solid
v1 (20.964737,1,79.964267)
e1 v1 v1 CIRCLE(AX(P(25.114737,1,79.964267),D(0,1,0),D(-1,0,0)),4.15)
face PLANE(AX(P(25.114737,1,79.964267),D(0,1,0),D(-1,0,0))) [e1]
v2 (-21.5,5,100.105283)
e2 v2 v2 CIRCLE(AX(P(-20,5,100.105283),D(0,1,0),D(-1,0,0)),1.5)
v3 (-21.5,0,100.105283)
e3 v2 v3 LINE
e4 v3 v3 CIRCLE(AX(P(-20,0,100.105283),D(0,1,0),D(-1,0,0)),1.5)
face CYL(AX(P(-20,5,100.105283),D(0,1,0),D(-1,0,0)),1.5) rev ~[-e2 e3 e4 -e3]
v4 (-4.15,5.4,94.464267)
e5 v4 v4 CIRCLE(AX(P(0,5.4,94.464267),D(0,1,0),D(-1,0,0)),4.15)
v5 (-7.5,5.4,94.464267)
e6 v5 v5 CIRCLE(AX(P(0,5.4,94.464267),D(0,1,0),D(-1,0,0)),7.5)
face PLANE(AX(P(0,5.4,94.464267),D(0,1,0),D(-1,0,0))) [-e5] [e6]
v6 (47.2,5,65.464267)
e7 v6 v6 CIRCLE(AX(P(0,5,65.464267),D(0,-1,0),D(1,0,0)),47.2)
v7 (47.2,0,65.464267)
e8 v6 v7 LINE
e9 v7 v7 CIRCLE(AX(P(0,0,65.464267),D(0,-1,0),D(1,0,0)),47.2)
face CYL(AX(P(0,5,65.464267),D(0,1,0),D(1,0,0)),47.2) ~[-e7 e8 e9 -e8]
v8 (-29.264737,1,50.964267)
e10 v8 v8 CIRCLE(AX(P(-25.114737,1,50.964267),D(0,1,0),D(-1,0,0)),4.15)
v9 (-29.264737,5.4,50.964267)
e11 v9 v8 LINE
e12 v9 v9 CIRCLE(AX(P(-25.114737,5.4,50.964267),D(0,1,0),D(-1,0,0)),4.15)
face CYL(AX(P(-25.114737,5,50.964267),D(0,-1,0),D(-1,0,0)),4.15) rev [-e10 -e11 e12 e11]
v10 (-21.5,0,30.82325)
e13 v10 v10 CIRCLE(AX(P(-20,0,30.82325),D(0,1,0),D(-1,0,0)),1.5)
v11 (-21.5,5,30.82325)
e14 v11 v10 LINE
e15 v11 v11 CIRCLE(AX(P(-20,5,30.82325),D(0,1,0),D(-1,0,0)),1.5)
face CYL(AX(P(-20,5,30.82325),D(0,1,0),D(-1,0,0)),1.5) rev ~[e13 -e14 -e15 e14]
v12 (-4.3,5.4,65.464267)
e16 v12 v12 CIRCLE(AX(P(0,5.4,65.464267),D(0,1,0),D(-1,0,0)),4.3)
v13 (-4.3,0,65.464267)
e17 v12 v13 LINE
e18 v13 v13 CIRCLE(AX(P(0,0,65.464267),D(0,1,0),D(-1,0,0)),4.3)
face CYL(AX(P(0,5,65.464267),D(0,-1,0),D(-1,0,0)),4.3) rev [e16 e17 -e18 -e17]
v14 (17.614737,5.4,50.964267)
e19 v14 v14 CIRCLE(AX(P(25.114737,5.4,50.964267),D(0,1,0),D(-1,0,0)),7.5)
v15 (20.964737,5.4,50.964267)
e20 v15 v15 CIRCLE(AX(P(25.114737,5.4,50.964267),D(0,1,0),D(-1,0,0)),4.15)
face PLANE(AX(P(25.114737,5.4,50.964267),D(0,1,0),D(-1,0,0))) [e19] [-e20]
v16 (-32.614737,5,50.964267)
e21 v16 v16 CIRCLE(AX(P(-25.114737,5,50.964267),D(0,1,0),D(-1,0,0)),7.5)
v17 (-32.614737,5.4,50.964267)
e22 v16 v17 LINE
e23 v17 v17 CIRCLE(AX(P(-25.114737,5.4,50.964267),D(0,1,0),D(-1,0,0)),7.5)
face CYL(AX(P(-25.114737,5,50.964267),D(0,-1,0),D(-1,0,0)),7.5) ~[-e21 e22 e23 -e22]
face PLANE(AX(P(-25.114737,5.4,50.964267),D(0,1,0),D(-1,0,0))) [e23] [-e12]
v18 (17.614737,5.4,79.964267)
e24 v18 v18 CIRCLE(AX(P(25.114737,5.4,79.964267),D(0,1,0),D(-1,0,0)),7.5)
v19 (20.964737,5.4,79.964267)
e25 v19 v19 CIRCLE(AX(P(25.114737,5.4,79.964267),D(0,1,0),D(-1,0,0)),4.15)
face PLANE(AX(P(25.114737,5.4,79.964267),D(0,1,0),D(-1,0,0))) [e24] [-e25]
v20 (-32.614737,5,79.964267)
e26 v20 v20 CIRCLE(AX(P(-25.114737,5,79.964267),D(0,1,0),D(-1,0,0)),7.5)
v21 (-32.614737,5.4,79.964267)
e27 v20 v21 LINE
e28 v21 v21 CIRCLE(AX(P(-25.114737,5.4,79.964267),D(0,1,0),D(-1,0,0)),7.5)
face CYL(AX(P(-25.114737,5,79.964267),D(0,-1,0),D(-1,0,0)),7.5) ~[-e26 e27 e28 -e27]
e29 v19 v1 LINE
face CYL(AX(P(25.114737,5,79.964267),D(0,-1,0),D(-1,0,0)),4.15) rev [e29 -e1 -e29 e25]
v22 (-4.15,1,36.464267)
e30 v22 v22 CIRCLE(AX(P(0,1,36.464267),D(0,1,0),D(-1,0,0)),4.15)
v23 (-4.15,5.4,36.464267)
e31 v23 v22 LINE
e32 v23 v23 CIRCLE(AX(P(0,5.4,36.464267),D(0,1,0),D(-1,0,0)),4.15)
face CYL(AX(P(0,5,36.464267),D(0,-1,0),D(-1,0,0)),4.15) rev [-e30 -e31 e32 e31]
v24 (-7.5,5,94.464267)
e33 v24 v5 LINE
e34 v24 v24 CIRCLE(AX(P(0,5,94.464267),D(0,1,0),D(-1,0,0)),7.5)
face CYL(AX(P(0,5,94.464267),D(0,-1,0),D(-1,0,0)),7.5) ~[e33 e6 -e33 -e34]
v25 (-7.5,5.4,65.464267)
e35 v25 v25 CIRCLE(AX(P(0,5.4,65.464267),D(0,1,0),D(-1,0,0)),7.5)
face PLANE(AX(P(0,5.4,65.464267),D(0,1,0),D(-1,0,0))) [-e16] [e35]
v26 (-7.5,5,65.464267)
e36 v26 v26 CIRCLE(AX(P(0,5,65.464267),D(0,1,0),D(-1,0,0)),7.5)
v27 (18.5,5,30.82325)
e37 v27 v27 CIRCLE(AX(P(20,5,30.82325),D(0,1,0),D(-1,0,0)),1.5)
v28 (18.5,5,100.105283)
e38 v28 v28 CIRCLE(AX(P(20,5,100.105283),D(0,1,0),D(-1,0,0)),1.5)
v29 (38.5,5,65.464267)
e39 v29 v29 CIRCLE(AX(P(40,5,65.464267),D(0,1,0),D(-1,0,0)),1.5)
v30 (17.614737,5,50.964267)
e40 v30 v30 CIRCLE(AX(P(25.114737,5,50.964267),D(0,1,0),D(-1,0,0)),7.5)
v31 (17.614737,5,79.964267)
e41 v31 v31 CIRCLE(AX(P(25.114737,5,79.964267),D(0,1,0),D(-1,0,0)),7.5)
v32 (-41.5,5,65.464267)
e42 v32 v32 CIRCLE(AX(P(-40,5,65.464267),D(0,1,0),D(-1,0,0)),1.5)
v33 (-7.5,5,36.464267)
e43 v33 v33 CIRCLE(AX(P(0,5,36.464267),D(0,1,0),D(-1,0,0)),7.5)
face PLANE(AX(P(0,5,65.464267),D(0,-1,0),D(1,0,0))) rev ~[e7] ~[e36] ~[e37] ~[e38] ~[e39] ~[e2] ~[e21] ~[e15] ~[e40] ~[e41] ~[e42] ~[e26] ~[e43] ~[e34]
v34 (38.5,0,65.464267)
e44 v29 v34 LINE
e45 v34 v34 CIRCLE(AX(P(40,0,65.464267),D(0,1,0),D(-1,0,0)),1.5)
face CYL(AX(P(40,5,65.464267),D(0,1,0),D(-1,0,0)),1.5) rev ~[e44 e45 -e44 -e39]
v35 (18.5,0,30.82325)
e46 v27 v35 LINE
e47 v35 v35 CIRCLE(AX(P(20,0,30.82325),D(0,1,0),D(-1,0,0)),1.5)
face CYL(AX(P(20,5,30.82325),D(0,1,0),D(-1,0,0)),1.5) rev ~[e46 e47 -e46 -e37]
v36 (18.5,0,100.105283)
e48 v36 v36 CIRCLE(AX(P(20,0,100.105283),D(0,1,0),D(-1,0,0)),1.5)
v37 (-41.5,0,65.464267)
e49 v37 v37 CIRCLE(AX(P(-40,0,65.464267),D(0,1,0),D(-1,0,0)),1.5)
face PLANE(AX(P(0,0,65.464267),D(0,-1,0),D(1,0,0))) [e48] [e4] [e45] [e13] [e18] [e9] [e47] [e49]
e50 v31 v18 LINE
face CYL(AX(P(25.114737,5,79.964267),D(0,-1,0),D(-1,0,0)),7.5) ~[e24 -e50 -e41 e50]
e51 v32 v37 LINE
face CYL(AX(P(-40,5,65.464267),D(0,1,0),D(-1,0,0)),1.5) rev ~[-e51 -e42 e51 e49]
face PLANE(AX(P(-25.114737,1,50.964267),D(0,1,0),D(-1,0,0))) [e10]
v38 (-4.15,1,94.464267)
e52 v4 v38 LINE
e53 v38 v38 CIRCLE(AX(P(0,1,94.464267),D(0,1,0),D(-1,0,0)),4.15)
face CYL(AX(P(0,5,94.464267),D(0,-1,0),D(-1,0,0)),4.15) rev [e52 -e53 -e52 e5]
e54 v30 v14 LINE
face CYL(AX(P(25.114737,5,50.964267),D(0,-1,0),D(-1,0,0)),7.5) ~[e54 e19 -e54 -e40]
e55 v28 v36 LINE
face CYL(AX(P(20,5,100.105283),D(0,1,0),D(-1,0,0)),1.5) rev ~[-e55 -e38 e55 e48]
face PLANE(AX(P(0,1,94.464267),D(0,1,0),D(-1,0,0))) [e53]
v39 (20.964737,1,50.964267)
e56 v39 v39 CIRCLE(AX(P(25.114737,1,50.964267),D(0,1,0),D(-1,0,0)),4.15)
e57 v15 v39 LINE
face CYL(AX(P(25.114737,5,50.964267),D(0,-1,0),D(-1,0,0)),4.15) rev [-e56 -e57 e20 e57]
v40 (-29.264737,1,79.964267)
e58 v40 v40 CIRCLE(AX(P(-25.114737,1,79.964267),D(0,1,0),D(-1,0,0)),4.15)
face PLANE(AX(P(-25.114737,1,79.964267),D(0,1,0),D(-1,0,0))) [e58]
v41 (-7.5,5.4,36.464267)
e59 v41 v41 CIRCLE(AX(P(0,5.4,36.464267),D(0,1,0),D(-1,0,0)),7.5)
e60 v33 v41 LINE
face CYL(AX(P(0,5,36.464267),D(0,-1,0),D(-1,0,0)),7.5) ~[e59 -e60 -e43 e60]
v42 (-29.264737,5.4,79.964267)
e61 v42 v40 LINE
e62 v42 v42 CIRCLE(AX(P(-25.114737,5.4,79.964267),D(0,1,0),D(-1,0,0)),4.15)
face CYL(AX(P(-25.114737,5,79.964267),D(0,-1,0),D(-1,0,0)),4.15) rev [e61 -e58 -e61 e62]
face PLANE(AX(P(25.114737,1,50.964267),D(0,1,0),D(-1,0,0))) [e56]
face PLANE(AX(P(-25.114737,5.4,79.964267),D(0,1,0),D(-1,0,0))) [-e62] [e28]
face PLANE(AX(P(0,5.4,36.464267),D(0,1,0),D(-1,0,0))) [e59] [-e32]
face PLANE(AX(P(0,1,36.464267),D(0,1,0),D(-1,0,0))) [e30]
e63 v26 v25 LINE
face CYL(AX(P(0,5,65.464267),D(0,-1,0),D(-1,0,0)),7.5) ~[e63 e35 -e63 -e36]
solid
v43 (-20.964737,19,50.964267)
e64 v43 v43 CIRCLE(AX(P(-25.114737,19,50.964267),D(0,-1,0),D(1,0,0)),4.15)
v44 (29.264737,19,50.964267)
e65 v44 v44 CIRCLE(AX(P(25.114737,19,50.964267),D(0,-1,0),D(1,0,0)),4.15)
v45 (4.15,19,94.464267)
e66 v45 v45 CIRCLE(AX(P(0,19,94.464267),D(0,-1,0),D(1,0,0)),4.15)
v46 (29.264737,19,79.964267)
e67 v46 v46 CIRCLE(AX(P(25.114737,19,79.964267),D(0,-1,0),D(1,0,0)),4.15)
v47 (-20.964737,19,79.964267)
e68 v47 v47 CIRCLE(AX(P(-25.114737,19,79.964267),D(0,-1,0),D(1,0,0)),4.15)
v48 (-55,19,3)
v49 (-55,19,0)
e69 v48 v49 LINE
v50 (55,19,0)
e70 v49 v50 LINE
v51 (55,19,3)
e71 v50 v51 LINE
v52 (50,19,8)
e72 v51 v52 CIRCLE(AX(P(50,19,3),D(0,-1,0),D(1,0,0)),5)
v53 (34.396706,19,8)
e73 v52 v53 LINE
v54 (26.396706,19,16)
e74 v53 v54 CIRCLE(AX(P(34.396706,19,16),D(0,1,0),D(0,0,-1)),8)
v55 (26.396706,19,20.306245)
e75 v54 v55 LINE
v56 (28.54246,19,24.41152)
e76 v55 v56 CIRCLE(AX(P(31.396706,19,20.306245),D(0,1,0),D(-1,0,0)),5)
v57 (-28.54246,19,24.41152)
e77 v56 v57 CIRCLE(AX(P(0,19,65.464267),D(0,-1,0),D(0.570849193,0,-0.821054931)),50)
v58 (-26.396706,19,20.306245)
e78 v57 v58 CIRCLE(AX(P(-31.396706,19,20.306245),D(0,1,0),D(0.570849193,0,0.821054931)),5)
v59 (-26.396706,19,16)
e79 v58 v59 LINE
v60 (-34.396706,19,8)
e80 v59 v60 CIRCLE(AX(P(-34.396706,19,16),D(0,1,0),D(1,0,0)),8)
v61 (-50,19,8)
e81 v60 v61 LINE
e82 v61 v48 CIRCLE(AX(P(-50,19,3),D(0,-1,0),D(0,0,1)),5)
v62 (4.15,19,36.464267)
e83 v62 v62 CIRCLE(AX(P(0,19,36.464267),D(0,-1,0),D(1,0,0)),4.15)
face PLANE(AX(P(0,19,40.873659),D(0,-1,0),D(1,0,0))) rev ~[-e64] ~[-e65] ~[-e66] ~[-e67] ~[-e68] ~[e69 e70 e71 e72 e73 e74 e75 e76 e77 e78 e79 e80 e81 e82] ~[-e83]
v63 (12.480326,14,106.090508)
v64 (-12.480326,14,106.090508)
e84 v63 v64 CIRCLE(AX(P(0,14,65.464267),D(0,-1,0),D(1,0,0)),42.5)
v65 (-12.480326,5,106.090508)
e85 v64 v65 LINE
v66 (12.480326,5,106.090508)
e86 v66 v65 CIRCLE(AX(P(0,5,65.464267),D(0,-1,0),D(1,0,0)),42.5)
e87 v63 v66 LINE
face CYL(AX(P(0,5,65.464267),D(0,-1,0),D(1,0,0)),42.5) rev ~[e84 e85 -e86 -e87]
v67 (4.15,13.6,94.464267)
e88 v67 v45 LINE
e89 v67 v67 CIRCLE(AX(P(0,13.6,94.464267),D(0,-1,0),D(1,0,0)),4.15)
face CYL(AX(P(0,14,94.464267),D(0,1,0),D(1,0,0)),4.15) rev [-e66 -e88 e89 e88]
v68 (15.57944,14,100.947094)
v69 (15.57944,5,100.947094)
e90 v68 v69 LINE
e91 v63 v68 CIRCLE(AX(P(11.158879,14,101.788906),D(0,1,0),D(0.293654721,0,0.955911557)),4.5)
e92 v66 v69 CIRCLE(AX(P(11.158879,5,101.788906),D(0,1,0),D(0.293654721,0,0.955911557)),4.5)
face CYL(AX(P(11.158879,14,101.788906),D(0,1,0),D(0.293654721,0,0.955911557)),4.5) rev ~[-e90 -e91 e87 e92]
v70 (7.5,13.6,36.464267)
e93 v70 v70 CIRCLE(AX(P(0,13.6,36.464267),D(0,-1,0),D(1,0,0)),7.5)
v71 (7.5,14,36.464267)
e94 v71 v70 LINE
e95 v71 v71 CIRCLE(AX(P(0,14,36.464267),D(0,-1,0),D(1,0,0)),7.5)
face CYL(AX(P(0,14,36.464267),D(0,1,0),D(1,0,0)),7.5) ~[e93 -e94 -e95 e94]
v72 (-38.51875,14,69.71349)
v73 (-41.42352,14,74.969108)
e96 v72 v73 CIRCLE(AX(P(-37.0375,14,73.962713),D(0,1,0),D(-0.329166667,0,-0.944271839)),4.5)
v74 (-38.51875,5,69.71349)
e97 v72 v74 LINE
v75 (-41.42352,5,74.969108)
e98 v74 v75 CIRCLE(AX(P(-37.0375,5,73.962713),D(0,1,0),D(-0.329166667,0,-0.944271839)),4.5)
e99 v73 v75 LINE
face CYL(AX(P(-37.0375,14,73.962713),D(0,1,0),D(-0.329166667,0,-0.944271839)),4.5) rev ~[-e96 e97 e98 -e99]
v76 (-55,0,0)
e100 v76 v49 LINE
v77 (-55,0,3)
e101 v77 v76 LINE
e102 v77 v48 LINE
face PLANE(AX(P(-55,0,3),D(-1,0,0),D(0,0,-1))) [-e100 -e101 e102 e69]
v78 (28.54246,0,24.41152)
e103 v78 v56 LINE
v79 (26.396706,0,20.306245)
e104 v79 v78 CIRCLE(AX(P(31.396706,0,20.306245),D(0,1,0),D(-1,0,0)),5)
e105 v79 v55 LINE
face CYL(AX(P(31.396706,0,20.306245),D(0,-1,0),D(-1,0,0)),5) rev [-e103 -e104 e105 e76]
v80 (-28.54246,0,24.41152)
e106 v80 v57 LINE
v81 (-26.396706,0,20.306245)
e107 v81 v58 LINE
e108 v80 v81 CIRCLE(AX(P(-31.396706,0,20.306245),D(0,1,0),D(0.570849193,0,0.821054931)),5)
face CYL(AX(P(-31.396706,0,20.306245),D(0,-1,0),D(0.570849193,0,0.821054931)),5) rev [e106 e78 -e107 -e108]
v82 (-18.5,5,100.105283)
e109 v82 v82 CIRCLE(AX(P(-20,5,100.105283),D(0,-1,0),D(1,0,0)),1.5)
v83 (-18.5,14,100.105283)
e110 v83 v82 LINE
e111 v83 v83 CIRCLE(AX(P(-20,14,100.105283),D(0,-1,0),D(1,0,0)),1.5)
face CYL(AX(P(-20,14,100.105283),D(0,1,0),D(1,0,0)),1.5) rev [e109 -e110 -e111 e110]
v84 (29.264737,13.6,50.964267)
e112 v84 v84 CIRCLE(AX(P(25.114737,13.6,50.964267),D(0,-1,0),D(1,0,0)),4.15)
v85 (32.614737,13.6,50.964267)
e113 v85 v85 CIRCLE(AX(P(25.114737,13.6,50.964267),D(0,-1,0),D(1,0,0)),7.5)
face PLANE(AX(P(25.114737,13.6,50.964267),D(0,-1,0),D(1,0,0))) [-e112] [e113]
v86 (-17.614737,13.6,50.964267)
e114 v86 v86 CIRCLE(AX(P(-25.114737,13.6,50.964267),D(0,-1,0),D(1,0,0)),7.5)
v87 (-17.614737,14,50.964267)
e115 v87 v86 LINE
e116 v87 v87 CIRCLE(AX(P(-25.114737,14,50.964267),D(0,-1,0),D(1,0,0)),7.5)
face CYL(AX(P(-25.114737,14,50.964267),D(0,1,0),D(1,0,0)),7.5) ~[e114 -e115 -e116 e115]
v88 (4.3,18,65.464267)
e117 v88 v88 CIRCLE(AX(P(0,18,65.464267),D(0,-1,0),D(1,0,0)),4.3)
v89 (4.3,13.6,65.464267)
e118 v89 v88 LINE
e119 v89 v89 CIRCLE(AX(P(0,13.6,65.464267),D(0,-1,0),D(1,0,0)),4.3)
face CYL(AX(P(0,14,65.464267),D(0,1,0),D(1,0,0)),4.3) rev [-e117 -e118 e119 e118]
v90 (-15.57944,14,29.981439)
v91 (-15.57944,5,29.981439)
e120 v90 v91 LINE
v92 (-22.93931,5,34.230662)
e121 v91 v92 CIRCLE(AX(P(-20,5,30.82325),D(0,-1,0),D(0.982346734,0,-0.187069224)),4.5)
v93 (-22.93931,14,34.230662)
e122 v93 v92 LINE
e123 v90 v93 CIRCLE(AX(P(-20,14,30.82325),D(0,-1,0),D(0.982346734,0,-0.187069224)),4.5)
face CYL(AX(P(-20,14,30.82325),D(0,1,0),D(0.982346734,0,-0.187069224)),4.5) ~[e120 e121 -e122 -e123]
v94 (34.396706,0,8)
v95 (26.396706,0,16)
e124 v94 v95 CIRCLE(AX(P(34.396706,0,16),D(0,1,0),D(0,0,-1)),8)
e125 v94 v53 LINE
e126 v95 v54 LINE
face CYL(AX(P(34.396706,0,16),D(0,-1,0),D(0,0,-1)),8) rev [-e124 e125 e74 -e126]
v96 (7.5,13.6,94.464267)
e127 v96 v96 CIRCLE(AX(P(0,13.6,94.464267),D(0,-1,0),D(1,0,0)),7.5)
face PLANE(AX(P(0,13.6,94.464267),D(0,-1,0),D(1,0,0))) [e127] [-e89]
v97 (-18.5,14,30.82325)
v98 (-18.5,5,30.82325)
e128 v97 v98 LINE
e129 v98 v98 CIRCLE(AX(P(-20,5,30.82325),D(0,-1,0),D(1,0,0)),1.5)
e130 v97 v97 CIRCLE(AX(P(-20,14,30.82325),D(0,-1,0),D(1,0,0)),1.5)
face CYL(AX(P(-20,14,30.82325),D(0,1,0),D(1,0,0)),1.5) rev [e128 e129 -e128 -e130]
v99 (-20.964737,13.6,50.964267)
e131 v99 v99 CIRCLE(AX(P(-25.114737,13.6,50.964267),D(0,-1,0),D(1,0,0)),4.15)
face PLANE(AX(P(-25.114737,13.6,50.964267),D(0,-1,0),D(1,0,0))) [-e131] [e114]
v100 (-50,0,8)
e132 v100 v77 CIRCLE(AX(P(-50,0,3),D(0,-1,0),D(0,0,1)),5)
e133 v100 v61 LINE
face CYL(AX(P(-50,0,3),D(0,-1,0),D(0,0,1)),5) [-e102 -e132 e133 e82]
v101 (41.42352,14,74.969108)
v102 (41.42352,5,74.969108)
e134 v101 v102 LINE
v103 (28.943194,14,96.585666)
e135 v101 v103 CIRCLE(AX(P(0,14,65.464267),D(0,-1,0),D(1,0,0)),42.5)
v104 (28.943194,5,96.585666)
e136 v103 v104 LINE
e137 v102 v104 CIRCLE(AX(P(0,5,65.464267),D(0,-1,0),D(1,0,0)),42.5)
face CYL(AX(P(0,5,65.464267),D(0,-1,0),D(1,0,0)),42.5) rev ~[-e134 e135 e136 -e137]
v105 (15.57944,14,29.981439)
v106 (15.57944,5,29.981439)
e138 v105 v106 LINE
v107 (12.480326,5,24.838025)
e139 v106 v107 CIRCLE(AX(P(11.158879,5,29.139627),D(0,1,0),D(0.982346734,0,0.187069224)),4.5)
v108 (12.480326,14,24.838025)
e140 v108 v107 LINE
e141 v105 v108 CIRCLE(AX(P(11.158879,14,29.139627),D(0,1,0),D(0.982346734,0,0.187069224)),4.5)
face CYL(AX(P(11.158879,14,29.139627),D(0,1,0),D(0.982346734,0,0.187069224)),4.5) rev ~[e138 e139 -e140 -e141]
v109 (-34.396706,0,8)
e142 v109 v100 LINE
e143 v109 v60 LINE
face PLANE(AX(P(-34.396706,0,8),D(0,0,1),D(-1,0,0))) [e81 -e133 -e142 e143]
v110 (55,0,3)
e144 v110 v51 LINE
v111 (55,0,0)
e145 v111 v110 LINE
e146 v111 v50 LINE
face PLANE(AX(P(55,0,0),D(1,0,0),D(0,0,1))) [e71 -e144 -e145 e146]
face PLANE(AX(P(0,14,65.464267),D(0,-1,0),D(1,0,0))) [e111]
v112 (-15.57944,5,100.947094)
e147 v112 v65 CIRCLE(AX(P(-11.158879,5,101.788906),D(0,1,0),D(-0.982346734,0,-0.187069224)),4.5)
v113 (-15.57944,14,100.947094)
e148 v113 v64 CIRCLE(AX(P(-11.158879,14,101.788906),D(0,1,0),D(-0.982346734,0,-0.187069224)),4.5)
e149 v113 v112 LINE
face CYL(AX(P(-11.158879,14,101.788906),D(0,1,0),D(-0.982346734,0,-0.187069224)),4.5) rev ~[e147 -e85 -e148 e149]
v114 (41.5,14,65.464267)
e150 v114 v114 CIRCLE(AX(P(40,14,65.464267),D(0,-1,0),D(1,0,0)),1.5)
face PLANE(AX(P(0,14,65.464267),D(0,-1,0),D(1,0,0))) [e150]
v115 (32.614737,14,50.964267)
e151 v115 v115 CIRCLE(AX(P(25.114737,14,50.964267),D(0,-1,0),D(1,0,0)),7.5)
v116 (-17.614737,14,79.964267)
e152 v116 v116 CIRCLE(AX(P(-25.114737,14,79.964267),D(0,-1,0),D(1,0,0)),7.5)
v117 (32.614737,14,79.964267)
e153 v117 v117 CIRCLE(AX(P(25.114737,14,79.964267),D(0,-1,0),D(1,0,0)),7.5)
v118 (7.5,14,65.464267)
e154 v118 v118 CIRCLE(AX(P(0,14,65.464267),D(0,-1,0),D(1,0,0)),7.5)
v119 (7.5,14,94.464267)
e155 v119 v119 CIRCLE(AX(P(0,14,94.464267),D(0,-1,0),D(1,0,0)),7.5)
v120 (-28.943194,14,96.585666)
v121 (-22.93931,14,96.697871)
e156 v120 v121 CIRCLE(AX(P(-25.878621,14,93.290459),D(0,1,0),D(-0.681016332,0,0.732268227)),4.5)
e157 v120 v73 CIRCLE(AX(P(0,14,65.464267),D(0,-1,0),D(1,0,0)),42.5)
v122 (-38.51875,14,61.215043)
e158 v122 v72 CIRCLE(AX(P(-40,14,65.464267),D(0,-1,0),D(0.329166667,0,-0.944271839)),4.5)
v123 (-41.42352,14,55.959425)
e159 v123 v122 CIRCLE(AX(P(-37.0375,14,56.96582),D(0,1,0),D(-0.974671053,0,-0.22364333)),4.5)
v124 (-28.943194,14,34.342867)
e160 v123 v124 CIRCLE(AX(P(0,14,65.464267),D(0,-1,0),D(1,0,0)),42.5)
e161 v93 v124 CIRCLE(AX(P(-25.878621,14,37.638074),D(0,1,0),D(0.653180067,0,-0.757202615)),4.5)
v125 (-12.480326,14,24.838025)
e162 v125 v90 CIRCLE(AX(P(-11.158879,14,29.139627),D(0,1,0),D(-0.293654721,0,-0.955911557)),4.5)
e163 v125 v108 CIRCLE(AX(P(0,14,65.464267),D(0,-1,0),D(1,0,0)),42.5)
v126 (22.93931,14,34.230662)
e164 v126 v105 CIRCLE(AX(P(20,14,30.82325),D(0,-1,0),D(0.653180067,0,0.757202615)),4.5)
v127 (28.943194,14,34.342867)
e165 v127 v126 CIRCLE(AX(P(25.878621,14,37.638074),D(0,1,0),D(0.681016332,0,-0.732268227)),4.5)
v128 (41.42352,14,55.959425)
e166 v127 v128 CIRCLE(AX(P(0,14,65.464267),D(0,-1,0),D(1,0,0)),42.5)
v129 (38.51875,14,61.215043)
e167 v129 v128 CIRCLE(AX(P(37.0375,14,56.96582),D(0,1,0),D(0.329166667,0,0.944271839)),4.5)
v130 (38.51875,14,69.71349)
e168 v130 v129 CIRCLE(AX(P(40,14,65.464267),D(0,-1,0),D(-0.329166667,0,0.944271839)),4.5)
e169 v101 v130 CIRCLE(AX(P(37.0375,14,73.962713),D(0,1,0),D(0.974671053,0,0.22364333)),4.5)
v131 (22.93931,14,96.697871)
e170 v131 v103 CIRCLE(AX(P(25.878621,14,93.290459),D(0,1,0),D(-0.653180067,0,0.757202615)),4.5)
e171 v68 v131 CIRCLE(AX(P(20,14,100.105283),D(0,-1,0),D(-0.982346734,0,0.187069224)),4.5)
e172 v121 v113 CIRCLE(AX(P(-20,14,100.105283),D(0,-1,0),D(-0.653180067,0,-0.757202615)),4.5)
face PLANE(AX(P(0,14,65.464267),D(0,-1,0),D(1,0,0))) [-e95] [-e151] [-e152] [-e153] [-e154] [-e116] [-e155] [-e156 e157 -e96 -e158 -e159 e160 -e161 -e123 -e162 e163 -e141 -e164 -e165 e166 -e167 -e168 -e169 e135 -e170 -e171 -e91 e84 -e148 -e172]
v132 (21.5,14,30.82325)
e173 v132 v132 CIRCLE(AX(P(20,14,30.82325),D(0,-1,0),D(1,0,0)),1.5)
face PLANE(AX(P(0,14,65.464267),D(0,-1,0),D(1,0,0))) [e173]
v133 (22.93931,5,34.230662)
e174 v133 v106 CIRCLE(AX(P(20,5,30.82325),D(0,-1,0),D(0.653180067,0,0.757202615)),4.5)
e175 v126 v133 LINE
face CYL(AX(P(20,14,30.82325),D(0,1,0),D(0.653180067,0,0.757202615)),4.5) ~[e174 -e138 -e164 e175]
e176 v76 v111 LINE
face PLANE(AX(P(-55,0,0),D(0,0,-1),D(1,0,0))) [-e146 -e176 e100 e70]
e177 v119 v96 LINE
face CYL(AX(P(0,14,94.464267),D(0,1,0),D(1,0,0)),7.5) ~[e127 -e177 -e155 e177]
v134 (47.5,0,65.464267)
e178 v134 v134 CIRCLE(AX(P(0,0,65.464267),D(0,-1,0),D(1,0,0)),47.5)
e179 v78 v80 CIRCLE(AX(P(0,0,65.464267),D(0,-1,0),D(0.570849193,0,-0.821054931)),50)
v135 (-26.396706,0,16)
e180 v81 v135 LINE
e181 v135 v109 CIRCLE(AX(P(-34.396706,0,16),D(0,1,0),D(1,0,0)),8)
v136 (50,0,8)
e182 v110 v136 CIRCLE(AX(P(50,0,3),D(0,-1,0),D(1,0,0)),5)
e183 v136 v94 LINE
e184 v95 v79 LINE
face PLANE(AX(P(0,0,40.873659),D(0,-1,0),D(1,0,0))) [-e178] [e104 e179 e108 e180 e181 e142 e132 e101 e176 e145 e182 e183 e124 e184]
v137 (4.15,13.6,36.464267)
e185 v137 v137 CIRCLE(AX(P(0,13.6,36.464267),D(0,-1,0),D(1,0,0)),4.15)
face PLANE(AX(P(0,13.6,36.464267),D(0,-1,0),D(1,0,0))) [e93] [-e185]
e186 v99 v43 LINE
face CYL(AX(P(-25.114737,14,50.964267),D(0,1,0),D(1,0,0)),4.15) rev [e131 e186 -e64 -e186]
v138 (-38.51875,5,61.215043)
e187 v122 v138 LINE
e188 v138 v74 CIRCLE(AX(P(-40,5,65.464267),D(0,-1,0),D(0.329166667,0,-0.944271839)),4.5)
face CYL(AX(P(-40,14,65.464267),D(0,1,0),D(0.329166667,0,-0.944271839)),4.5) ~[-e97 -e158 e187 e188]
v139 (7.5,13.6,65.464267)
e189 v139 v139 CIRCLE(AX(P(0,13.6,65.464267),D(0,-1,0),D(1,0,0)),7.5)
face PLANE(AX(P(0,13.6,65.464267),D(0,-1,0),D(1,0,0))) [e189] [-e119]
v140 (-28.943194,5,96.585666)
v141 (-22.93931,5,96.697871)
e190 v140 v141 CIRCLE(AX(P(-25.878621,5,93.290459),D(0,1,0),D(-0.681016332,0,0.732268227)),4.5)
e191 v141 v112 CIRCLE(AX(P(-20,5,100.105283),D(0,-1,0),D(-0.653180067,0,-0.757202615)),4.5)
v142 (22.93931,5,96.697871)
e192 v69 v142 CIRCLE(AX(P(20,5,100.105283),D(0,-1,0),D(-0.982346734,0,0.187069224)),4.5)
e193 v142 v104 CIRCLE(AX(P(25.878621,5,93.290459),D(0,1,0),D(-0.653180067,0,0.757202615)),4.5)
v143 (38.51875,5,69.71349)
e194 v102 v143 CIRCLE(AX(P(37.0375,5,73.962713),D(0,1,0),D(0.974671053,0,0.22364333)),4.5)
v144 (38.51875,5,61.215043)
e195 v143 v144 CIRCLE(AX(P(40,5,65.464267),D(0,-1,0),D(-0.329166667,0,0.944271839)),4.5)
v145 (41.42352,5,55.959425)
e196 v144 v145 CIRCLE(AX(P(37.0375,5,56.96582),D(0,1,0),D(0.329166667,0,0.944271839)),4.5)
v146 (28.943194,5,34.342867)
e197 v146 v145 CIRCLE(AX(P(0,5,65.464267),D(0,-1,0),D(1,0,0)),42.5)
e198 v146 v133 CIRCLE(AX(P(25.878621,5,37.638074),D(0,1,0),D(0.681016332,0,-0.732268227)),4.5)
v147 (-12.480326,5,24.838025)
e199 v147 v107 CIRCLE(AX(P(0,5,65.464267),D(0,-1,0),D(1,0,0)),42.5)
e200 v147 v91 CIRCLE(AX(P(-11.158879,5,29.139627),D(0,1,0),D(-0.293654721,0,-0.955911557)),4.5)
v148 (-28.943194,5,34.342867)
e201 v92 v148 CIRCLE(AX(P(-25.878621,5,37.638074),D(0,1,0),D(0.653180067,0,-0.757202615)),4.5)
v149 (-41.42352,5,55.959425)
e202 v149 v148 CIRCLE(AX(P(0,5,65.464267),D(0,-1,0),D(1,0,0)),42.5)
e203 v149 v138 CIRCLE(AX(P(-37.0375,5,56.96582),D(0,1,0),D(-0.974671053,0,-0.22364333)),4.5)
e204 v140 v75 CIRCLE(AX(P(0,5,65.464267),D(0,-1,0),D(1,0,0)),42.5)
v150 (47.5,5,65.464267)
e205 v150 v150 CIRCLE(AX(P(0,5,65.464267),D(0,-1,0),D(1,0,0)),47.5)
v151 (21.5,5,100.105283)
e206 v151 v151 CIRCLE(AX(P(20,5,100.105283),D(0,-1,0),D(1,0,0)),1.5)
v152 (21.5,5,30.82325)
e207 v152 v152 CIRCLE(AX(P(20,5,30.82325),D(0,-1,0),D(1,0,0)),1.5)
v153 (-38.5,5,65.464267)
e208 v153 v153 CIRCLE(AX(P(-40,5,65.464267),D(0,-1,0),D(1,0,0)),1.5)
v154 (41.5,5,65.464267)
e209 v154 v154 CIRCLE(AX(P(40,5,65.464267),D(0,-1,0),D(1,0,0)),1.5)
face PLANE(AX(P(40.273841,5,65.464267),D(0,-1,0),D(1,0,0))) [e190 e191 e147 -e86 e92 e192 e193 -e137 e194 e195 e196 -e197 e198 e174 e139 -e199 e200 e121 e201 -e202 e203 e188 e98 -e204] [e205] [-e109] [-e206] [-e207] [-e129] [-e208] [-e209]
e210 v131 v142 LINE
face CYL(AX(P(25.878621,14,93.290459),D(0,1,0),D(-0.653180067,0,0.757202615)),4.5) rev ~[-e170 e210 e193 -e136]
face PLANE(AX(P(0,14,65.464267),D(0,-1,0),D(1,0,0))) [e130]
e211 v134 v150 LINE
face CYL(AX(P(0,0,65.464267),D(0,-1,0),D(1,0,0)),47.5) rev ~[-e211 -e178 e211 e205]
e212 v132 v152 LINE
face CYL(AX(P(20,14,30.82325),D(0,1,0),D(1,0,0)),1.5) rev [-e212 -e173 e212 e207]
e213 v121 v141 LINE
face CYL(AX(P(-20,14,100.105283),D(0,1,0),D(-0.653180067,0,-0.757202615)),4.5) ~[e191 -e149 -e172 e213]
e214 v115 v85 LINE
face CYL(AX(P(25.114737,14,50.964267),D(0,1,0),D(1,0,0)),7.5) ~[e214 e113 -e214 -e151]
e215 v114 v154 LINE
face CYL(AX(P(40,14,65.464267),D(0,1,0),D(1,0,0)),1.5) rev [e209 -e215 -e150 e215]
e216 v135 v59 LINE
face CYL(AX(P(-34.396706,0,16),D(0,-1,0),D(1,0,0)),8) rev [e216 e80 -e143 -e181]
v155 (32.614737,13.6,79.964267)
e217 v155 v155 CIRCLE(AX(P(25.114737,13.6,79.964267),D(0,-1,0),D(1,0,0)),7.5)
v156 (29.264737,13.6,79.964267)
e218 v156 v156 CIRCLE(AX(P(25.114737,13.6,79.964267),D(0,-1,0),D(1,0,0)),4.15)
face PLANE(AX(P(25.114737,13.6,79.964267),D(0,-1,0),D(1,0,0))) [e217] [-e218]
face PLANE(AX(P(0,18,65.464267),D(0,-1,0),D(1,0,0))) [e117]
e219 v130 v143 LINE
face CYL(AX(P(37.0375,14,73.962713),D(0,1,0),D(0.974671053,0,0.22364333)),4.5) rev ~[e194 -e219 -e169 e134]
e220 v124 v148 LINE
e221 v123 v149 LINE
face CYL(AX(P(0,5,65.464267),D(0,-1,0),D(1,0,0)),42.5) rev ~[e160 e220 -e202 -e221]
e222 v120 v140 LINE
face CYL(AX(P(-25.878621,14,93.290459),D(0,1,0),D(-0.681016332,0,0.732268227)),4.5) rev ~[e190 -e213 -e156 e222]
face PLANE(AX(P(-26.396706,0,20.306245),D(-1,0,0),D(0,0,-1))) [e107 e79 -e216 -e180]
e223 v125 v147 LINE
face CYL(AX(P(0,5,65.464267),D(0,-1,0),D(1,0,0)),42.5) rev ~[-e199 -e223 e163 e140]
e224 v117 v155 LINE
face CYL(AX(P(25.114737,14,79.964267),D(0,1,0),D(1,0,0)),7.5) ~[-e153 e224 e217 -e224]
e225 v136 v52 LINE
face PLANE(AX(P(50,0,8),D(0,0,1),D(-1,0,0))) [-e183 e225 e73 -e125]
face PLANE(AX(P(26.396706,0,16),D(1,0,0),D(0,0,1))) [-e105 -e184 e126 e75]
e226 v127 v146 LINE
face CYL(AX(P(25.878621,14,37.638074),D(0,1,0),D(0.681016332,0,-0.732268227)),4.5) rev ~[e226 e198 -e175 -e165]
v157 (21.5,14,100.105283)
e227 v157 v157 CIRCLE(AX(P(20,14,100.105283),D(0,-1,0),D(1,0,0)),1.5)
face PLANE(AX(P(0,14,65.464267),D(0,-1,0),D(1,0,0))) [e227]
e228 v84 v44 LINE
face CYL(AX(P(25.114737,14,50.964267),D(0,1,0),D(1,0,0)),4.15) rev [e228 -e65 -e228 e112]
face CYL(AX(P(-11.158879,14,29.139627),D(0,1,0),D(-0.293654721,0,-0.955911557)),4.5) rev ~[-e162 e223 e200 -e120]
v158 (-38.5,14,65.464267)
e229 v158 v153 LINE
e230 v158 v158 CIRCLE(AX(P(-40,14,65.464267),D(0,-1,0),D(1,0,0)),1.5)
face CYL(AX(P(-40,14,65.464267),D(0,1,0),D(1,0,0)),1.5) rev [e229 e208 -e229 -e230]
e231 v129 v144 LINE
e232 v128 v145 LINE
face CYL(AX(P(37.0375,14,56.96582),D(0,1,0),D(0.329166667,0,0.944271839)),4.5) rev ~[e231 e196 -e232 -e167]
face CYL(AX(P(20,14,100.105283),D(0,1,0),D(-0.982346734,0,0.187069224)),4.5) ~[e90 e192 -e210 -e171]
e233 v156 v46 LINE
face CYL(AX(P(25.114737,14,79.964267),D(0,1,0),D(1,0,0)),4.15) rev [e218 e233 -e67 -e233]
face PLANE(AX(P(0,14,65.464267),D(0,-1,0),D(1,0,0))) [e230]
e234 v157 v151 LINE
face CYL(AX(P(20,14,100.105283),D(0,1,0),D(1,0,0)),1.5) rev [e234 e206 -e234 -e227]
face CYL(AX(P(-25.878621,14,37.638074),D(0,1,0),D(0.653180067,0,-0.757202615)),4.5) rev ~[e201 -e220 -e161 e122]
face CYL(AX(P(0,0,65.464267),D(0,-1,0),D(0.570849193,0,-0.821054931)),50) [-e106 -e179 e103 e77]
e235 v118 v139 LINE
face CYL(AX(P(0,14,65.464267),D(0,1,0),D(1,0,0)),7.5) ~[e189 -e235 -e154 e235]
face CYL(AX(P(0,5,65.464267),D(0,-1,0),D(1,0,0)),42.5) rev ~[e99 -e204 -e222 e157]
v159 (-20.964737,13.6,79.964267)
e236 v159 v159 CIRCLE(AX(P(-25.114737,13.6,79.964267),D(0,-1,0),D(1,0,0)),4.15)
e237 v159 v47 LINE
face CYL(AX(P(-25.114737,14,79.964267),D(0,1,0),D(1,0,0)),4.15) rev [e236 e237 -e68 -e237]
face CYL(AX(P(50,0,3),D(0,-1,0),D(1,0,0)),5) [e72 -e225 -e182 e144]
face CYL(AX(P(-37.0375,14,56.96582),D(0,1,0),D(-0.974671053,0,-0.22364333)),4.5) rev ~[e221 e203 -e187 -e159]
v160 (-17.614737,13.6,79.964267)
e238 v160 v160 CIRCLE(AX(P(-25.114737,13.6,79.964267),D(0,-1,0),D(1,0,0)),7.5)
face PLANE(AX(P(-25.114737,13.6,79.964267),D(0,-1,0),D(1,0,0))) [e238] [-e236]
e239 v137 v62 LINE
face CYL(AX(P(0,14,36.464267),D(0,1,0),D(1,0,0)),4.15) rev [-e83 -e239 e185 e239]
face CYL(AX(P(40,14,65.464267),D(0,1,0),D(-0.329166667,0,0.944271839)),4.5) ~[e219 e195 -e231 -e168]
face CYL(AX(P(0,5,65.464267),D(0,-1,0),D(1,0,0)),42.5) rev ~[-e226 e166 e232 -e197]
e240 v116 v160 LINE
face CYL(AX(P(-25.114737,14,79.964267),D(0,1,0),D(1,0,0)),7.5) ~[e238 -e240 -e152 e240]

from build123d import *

# Parameters (mm, degrees)
F1_DEPTH  = 19
F2_R      = 47.5
F3_DEPTH  = 5
F4_R      = 42.5
F5_DEPTH  = 9
F6_R      = 4.3
F7_DEPTH  = 4
F8_R      = 4.15
F9_DEPTH  = 5
F10_R     = 7.5
F10_R_2   = 4.3
F10_R_3   = 4.15
F11_DEPTH = 0.4
F12_R     = 47.2
F13_DEPTH = 5
F14_R     = 4.15
F15_DEPTH = 4
F16_R     = 4.3
F17_DEPTH = 5
F18_R     = 7.5
F18_R_2   = 4.3
F18_R_3   = 4.15
F19_DEPTH = 0.4
F20_R     = 1.5
F21_DEPTH = 5
F22_R     = 1.5
F23_DEPTH = 9


with BuildPart() as f1:
    # F0 (on Front) → F1 (new body)
    with BuildSketch(Plane.XZ):
        with BuildLine():
            Line((-55, 0), (0, 0))
            Line((0, 0), (55, 0))
            Line((55, 0), (55, 3))
            ThreePointArc((55, 3), (53.5355339059, 6.5355339059), (50, 8))
            Line((50, 8), (34.3967056002, 8))
            ThreePointArc((34.3967056002, 8), (28.7398513507, 10.3431457505), (26.3967056002, 16))
            Line((26.3967056002, 16), (26.3967056002, 20.3062453617))
            ThreePointArc((26.3967056002, 20.3062453617), (26.9654964075, 22.6223595841), (28.5424596365, 24.411520015))
            ThreePointArc((28.5424596365, 24.411520015), (0, 115.464266548), (-28.5424596365, 24.411520015))
            ThreePointArc((-28.5424596365, 24.411520015), (-26.9654964075, 22.6223595841), (-26.3967056002, 20.3062453617))
            Line((-26.3967056002, 20.3062453617), (-26.3967056002, 16))
            ThreePointArc((-26.3967056002, 16), (-28.7398513507, 10.3431457505), (-34.3967056002, 8))
            Line((-34.3967056002, 8), (-50, 8))
            ThreePointArc((-50, 8), (-53.5355339059, 6.5355339059), (-55, 3))
            Line((-55, 3), (-55, 0))
        make_face()
    extrude(amount=-F1_DEPTH)

    # F2 (on face) → F3 (cut)
    with BuildSketch(Plane.XZ):
        with Locations((0, 65.464266548)):
            Circle(F2_R)
    extrude(amount=-F3_DEPTH, mode=Mode.SUBTRACT)

    # F4 (on face) → F5 (cut)
    with BuildSketch(Plane.XZ.offset(-5)):
        with Locations((0, 65.464266548)):
            Circle(F4_R)
    extrude(amount=-F5_DEPTH, mode=Mode.SUBTRACT)

    # F6 (on face) → F7 (cut)
    with BuildSketch(Plane.XZ.offset(-14)):
        with Locations((0, 65.464266548)):
            Circle(F6_R)
    extrude(amount=-F7_DEPTH, mode=Mode.SUBTRACT)

    # F8 (on face) → F9 (cut, through all)
    with BuildSketch(Plane.XZ.offset(-14)):
        with Locations((0, 94.464266548)):
            Circle(F8_R)
        with Locations((-25.1147367097, 79.964266548)):
            Circle(F8_R)
        with Locations((-25.1147367097, 50.964266548)):
            Circle(F8_R)
        with Locations((0, 36.464266548)):
            Circle(F8_R)
        with Locations((25.1147367097, 50.964266548)):
            Circle(F8_R)
        with Locations((25.1147367097, 79.964266548)):
            Circle(F8_R)
    extrude(amount=-F9_DEPTH, mode=Mode.SUBTRACT)

    # F10 (on face) → F11 (join)
    with BuildSketch(Plane.XZ.offset(-14)):
        with Locations((0, 65.464266548)):
            Circle(F10_R)
        with Locations((0, 65.464266548)):
            Circle(F10_R_2, mode=Mode.SUBTRACT)
        with Locations((0, 94.464266548)):
            Circle(F10_R)
        with Locations((0, 94.464266548)):
            Circle(F10_R_3, mode=Mode.SUBTRACT)
        with Locations((-25.1147367097, 79.964266548)):
            Circle(F10_R)
        with Locations((-25.1147367097, 79.964266548)):
            Circle(F10_R_3, mode=Mode.SUBTRACT)
        with Locations((-25.1147367097, 50.964266548)):
            Circle(F10_R)
        with Locations((-25.1147367097, 50.964266548)):
            Circle(F10_R_3, mode=Mode.SUBTRACT)
        with Locations((0, 36.464266548)):
            Circle(F10_R)
        with Locations((0, 36.464266548)):
            Circle(F10_R_3, mode=Mode.SUBTRACT)
        with Locations((25.1147367097, 50.964266548)):
            Circle(F10_R)
        with Locations((25.1147367097, 50.964266548)):
            Circle(F10_R_3, mode=Mode.SUBTRACT)
        with Locations((25.1147367097, 79.964266548)):
            Circle(F10_R)
        with Locations((25.1147367097, 79.964266548)):
            Circle(F10_R_3, mode=Mode.SUBTRACT)
    extrude(amount=F11_DEPTH)

    # F22 (on face) → F23 (join)
    with BuildSketch(Plane.XZ.offset(-14)):
        with BuildLine():
            ThreePointArc((-28.9431940969, 96.5856661866), (-25.9627050439, 97.7896735205), (-22.9393103022, 96.6978709327))
            ThreePointArc((-22.9393103022, 96.6978709327), (-17.75, 96.2081683823), (-15.5794396978, 100.9470942073))
            ThreePointArc((-15.5794396978, 100.9470942073), (-15.0132711039, 104.1113321532), (-12.4803256399, 106.0905077219))
            ThreePointArc((-12.4803256399, 106.0905077219), (-21.25, 102.2703462088), (-28.9431940969, 96.5856661866))
        make_face()
        with Locations((-20, 100.1052826994)):
            Circle(F22_R, mode=Mode.SUBTRACT)
        with BuildLine():
            ThreePointArc((-41.4235197368, 55.9594250127), (-40.9759761478, 59.1426079152), (-38.51875, 61.2150432734))
            ThreePointArc((-38.51875, 61.2150432734), (-35.5, 65.464266548), (-38.51875, 69.7134898226))
            ThreePointArc((-38.51875, 69.7134898226), (-40.9759761478, 71.7859251808), (-41.4235197368, 74.9691080833))
            ThreePointArc((-41.4235197368, 74.9691080833), (-42.5, 65.464266548), (-41.4235197368, 55.9594250127))
        make_face()
        with Locations((-40, 65.464266548)):
            Circle(F22_R, mode=Mode.SUBTRACT)
        with BuildLine():
            ThreePointArc((-12.4803256399, 24.8380253741), (-15.0132711039, 26.8172009427), (-15.5794396978, 29.9814388887))
            ThreePointArc((-15.5794396978, 29.9814388887), (-17.75, 34.7203647136), (-22.9393103022, 34.2306621633))
            ThreePointArc((-22.9393103022, 34.2306621633), (-25.9627050439, 33.1388595755), (-28.9431940969, 34.3428669094))
            ThreePointArc((-28.9431940969, 34.3428669094), (-21.25, 28.6581868871), (-12.4803256399, 24.8380253741))
        make_face()
        with Locations((-20, 30.8232503966)):
            Circle(F22_R, mode=Mode.SUBTRACT)
        with BuildLine():
            ThreePointArc((28.9431940969, 34.3428669094), (25.9627050439, 33.1388595755), (22.9393103022, 34.2306621633))
            ThreePointArc((22.9393103022, 34.2306621633), (17.75, 34.7203647136), (15.5794396978, 29.9814388887))
            ThreePointArc((15.5794396978, 29.9814388887), (15.0132711039, 26.8172009427), (12.4803256399, 24.8380253741))
            ThreePointArc((12.4803256399, 24.8380253741), (21.25, 28.6581868871), (28.9431940969, 34.3428669094))
        make_face()
        with Locations((20, 30.8232503966)):
            Circle(F22_R, mode=Mode.SUBTRACT)
        with BuildLine():
            ThreePointArc((41.4235197368, 74.9691080833), (40.9759761478, 71.7859251808), (38.51875, 69.7134898226))
            ThreePointArc((38.51875, 69.7134898226), (35.5, 65.464266548), (38.51875, 61.2150432734))
            ThreePointArc((38.51875, 61.2150432734), (40.9759761478, 59.1426079152), (41.4235197368, 55.9594250127))
            ThreePointArc((41.4235197368, 55.9594250127), (42.5, 65.464266548), (41.4235197368, 74.9691080833))
        make_face()
        with Locations((40, 65.464266548)):
            Circle(F22_R, mode=Mode.SUBTRACT)
        with BuildLine():
            ThreePointArc((12.4803256399, 106.0905077219), (15.0132711039, 104.1113321532), (15.5794396978, 100.9470942073))
            ThreePointArc((15.5794396978, 100.9470942073), (17.75, 96.2081683823), (22.9393103022, 96.6978709327))
            ThreePointArc((22.9393103022, 96.6978709327), (25.9627050439, 97.7896735205), (28.9431940969, 96.5856661866))
            ThreePointArc((28.9431940969, 96.5856661866), (21.25, 102.2703462088), (12.4803256399, 106.0905077219))
        make_face()
        with Locations((20, 100.1052826994)):
            Circle(F22_R, mode=Mode.SUBTRACT)
    extrude(amount=F23_DEPTH)


with BuildPart() as f13:
    # F12 (on face) → F13 (new body)
    with BuildSketch(Plane.XZ.offset(-5)):
        with Locations((0, 65.464266548)):
            Circle(F12_R)
    extrude(amount=F13_DEPTH)

    # F14 (on face) → F15 (cut)
    with BuildSketch(Plane(origin=(0, 5, 0), x_dir=(-1, 0, 0), z_dir=(0, 1, 0))):
        with Locations((-25.1147367097, 79.964266548)):
            Circle(F14_R)
        with Locations((0, 94.464266548)):
            Circle(F14_R)
        with Locations((25.1147367097, 79.964266548)):
            Circle(F14_R)
        with Locations((25.1147367097, 50.964266548)):
            Circle(F14_R)
        with Locations((0, 36.464266548)):
            Circle(F14_R)
        with Locations((-25.1147367097, 50.964266548)):
            Circle(F14_R)
    extrude(amount=-F15_DEPTH, mode=Mode.SUBTRACT)

    # F16 (on face) → F17 (cut, through all)
    with BuildSketch(Plane(origin=(0, 5, 0), x_dir=(-1, 0, 0), z_dir=(0, 1, 0))):
        with Locations((0, 65.464266548)):
            Circle(F16_R)
    extrude(amount=-F17_DEPTH, mode=Mode.SUBTRACT)

    # F18 (on face) → F19 (join)
    with BuildSketch(Plane(origin=(0, 5, 0), x_dir=(-1, 0, 0), z_dir=(0, 1, 0))):
        with Locations((0, 65.464266548)):
            Circle(F18_R)
        with Locations((0, 65.464266548)):
            Circle(F18_R_2, mode=Mode.SUBTRACT)
        with Locations((0, 36.464266548)):
            Circle(F18_R)
        with Locations((0, 36.464266548)):
            Circle(F18_R_3, mode=Mode.SUBTRACT)
        with Locations((25.1147367097, 50.964266548)):
            Circle(F18_R)
        with Locations((25.1147367097, 50.964266548)):
            Circle(F18_R_3, mode=Mode.SUBTRACT)
        with Locations((25.1147367097, 79.964266548)):
            Circle(F18_R)
        with Locations((25.1147367097, 79.964266548)):
            Circle(F18_R_3, mode=Mode.SUBTRACT)
        with Locations((0, 94.464266548)):
            Circle(F18_R)
        with Locations((0, 94.464266548)):
            Circle(F18_R_3, mode=Mode.SUBTRACT)
        with Locations((-25.1147367097, 79.964266548)):
            Circle(F18_R)
        with Locations((-25.1147367097, 79.964266548)):
            Circle(F18_R_3, mode=Mode.SUBTRACT)
        with Locations((-25.1147367097, 50.964266548)):
            Circle(F18_R)
        with Locations((-25.1147367097, 50.964266548)):
            Circle(F18_R_3, mode=Mode.SUBTRACT)
    extrude(amount=F19_DEPTH)

    # F20 (on face) → F21 (cut, through all)
    with BuildSketch(Plane(origin=(0, 5, 0), x_dir=(-1, 0, 0), z_dir=(0, 1, 0))):
        with Locations((20, 30.8232503966)):
            Circle(F20_R)
        with Locations((40, 65.464266548)):
            Circle(F20_R)
        with Locations((20, 100.1052826994)):
            Circle(F20_R)
        with Locations((-20, 100.1052826994)):
            Circle(F20_R)
        with Locations((-40, 65.464266548)):
            Circle(F20_R)
        with Locations((-20, 30.8232503966)):
            Circle(F20_R)
    extrude(amount=-F21_DEPTH, mode=Mode.SUBTRACT)


solid = Compound([f1.part, f13.part])
